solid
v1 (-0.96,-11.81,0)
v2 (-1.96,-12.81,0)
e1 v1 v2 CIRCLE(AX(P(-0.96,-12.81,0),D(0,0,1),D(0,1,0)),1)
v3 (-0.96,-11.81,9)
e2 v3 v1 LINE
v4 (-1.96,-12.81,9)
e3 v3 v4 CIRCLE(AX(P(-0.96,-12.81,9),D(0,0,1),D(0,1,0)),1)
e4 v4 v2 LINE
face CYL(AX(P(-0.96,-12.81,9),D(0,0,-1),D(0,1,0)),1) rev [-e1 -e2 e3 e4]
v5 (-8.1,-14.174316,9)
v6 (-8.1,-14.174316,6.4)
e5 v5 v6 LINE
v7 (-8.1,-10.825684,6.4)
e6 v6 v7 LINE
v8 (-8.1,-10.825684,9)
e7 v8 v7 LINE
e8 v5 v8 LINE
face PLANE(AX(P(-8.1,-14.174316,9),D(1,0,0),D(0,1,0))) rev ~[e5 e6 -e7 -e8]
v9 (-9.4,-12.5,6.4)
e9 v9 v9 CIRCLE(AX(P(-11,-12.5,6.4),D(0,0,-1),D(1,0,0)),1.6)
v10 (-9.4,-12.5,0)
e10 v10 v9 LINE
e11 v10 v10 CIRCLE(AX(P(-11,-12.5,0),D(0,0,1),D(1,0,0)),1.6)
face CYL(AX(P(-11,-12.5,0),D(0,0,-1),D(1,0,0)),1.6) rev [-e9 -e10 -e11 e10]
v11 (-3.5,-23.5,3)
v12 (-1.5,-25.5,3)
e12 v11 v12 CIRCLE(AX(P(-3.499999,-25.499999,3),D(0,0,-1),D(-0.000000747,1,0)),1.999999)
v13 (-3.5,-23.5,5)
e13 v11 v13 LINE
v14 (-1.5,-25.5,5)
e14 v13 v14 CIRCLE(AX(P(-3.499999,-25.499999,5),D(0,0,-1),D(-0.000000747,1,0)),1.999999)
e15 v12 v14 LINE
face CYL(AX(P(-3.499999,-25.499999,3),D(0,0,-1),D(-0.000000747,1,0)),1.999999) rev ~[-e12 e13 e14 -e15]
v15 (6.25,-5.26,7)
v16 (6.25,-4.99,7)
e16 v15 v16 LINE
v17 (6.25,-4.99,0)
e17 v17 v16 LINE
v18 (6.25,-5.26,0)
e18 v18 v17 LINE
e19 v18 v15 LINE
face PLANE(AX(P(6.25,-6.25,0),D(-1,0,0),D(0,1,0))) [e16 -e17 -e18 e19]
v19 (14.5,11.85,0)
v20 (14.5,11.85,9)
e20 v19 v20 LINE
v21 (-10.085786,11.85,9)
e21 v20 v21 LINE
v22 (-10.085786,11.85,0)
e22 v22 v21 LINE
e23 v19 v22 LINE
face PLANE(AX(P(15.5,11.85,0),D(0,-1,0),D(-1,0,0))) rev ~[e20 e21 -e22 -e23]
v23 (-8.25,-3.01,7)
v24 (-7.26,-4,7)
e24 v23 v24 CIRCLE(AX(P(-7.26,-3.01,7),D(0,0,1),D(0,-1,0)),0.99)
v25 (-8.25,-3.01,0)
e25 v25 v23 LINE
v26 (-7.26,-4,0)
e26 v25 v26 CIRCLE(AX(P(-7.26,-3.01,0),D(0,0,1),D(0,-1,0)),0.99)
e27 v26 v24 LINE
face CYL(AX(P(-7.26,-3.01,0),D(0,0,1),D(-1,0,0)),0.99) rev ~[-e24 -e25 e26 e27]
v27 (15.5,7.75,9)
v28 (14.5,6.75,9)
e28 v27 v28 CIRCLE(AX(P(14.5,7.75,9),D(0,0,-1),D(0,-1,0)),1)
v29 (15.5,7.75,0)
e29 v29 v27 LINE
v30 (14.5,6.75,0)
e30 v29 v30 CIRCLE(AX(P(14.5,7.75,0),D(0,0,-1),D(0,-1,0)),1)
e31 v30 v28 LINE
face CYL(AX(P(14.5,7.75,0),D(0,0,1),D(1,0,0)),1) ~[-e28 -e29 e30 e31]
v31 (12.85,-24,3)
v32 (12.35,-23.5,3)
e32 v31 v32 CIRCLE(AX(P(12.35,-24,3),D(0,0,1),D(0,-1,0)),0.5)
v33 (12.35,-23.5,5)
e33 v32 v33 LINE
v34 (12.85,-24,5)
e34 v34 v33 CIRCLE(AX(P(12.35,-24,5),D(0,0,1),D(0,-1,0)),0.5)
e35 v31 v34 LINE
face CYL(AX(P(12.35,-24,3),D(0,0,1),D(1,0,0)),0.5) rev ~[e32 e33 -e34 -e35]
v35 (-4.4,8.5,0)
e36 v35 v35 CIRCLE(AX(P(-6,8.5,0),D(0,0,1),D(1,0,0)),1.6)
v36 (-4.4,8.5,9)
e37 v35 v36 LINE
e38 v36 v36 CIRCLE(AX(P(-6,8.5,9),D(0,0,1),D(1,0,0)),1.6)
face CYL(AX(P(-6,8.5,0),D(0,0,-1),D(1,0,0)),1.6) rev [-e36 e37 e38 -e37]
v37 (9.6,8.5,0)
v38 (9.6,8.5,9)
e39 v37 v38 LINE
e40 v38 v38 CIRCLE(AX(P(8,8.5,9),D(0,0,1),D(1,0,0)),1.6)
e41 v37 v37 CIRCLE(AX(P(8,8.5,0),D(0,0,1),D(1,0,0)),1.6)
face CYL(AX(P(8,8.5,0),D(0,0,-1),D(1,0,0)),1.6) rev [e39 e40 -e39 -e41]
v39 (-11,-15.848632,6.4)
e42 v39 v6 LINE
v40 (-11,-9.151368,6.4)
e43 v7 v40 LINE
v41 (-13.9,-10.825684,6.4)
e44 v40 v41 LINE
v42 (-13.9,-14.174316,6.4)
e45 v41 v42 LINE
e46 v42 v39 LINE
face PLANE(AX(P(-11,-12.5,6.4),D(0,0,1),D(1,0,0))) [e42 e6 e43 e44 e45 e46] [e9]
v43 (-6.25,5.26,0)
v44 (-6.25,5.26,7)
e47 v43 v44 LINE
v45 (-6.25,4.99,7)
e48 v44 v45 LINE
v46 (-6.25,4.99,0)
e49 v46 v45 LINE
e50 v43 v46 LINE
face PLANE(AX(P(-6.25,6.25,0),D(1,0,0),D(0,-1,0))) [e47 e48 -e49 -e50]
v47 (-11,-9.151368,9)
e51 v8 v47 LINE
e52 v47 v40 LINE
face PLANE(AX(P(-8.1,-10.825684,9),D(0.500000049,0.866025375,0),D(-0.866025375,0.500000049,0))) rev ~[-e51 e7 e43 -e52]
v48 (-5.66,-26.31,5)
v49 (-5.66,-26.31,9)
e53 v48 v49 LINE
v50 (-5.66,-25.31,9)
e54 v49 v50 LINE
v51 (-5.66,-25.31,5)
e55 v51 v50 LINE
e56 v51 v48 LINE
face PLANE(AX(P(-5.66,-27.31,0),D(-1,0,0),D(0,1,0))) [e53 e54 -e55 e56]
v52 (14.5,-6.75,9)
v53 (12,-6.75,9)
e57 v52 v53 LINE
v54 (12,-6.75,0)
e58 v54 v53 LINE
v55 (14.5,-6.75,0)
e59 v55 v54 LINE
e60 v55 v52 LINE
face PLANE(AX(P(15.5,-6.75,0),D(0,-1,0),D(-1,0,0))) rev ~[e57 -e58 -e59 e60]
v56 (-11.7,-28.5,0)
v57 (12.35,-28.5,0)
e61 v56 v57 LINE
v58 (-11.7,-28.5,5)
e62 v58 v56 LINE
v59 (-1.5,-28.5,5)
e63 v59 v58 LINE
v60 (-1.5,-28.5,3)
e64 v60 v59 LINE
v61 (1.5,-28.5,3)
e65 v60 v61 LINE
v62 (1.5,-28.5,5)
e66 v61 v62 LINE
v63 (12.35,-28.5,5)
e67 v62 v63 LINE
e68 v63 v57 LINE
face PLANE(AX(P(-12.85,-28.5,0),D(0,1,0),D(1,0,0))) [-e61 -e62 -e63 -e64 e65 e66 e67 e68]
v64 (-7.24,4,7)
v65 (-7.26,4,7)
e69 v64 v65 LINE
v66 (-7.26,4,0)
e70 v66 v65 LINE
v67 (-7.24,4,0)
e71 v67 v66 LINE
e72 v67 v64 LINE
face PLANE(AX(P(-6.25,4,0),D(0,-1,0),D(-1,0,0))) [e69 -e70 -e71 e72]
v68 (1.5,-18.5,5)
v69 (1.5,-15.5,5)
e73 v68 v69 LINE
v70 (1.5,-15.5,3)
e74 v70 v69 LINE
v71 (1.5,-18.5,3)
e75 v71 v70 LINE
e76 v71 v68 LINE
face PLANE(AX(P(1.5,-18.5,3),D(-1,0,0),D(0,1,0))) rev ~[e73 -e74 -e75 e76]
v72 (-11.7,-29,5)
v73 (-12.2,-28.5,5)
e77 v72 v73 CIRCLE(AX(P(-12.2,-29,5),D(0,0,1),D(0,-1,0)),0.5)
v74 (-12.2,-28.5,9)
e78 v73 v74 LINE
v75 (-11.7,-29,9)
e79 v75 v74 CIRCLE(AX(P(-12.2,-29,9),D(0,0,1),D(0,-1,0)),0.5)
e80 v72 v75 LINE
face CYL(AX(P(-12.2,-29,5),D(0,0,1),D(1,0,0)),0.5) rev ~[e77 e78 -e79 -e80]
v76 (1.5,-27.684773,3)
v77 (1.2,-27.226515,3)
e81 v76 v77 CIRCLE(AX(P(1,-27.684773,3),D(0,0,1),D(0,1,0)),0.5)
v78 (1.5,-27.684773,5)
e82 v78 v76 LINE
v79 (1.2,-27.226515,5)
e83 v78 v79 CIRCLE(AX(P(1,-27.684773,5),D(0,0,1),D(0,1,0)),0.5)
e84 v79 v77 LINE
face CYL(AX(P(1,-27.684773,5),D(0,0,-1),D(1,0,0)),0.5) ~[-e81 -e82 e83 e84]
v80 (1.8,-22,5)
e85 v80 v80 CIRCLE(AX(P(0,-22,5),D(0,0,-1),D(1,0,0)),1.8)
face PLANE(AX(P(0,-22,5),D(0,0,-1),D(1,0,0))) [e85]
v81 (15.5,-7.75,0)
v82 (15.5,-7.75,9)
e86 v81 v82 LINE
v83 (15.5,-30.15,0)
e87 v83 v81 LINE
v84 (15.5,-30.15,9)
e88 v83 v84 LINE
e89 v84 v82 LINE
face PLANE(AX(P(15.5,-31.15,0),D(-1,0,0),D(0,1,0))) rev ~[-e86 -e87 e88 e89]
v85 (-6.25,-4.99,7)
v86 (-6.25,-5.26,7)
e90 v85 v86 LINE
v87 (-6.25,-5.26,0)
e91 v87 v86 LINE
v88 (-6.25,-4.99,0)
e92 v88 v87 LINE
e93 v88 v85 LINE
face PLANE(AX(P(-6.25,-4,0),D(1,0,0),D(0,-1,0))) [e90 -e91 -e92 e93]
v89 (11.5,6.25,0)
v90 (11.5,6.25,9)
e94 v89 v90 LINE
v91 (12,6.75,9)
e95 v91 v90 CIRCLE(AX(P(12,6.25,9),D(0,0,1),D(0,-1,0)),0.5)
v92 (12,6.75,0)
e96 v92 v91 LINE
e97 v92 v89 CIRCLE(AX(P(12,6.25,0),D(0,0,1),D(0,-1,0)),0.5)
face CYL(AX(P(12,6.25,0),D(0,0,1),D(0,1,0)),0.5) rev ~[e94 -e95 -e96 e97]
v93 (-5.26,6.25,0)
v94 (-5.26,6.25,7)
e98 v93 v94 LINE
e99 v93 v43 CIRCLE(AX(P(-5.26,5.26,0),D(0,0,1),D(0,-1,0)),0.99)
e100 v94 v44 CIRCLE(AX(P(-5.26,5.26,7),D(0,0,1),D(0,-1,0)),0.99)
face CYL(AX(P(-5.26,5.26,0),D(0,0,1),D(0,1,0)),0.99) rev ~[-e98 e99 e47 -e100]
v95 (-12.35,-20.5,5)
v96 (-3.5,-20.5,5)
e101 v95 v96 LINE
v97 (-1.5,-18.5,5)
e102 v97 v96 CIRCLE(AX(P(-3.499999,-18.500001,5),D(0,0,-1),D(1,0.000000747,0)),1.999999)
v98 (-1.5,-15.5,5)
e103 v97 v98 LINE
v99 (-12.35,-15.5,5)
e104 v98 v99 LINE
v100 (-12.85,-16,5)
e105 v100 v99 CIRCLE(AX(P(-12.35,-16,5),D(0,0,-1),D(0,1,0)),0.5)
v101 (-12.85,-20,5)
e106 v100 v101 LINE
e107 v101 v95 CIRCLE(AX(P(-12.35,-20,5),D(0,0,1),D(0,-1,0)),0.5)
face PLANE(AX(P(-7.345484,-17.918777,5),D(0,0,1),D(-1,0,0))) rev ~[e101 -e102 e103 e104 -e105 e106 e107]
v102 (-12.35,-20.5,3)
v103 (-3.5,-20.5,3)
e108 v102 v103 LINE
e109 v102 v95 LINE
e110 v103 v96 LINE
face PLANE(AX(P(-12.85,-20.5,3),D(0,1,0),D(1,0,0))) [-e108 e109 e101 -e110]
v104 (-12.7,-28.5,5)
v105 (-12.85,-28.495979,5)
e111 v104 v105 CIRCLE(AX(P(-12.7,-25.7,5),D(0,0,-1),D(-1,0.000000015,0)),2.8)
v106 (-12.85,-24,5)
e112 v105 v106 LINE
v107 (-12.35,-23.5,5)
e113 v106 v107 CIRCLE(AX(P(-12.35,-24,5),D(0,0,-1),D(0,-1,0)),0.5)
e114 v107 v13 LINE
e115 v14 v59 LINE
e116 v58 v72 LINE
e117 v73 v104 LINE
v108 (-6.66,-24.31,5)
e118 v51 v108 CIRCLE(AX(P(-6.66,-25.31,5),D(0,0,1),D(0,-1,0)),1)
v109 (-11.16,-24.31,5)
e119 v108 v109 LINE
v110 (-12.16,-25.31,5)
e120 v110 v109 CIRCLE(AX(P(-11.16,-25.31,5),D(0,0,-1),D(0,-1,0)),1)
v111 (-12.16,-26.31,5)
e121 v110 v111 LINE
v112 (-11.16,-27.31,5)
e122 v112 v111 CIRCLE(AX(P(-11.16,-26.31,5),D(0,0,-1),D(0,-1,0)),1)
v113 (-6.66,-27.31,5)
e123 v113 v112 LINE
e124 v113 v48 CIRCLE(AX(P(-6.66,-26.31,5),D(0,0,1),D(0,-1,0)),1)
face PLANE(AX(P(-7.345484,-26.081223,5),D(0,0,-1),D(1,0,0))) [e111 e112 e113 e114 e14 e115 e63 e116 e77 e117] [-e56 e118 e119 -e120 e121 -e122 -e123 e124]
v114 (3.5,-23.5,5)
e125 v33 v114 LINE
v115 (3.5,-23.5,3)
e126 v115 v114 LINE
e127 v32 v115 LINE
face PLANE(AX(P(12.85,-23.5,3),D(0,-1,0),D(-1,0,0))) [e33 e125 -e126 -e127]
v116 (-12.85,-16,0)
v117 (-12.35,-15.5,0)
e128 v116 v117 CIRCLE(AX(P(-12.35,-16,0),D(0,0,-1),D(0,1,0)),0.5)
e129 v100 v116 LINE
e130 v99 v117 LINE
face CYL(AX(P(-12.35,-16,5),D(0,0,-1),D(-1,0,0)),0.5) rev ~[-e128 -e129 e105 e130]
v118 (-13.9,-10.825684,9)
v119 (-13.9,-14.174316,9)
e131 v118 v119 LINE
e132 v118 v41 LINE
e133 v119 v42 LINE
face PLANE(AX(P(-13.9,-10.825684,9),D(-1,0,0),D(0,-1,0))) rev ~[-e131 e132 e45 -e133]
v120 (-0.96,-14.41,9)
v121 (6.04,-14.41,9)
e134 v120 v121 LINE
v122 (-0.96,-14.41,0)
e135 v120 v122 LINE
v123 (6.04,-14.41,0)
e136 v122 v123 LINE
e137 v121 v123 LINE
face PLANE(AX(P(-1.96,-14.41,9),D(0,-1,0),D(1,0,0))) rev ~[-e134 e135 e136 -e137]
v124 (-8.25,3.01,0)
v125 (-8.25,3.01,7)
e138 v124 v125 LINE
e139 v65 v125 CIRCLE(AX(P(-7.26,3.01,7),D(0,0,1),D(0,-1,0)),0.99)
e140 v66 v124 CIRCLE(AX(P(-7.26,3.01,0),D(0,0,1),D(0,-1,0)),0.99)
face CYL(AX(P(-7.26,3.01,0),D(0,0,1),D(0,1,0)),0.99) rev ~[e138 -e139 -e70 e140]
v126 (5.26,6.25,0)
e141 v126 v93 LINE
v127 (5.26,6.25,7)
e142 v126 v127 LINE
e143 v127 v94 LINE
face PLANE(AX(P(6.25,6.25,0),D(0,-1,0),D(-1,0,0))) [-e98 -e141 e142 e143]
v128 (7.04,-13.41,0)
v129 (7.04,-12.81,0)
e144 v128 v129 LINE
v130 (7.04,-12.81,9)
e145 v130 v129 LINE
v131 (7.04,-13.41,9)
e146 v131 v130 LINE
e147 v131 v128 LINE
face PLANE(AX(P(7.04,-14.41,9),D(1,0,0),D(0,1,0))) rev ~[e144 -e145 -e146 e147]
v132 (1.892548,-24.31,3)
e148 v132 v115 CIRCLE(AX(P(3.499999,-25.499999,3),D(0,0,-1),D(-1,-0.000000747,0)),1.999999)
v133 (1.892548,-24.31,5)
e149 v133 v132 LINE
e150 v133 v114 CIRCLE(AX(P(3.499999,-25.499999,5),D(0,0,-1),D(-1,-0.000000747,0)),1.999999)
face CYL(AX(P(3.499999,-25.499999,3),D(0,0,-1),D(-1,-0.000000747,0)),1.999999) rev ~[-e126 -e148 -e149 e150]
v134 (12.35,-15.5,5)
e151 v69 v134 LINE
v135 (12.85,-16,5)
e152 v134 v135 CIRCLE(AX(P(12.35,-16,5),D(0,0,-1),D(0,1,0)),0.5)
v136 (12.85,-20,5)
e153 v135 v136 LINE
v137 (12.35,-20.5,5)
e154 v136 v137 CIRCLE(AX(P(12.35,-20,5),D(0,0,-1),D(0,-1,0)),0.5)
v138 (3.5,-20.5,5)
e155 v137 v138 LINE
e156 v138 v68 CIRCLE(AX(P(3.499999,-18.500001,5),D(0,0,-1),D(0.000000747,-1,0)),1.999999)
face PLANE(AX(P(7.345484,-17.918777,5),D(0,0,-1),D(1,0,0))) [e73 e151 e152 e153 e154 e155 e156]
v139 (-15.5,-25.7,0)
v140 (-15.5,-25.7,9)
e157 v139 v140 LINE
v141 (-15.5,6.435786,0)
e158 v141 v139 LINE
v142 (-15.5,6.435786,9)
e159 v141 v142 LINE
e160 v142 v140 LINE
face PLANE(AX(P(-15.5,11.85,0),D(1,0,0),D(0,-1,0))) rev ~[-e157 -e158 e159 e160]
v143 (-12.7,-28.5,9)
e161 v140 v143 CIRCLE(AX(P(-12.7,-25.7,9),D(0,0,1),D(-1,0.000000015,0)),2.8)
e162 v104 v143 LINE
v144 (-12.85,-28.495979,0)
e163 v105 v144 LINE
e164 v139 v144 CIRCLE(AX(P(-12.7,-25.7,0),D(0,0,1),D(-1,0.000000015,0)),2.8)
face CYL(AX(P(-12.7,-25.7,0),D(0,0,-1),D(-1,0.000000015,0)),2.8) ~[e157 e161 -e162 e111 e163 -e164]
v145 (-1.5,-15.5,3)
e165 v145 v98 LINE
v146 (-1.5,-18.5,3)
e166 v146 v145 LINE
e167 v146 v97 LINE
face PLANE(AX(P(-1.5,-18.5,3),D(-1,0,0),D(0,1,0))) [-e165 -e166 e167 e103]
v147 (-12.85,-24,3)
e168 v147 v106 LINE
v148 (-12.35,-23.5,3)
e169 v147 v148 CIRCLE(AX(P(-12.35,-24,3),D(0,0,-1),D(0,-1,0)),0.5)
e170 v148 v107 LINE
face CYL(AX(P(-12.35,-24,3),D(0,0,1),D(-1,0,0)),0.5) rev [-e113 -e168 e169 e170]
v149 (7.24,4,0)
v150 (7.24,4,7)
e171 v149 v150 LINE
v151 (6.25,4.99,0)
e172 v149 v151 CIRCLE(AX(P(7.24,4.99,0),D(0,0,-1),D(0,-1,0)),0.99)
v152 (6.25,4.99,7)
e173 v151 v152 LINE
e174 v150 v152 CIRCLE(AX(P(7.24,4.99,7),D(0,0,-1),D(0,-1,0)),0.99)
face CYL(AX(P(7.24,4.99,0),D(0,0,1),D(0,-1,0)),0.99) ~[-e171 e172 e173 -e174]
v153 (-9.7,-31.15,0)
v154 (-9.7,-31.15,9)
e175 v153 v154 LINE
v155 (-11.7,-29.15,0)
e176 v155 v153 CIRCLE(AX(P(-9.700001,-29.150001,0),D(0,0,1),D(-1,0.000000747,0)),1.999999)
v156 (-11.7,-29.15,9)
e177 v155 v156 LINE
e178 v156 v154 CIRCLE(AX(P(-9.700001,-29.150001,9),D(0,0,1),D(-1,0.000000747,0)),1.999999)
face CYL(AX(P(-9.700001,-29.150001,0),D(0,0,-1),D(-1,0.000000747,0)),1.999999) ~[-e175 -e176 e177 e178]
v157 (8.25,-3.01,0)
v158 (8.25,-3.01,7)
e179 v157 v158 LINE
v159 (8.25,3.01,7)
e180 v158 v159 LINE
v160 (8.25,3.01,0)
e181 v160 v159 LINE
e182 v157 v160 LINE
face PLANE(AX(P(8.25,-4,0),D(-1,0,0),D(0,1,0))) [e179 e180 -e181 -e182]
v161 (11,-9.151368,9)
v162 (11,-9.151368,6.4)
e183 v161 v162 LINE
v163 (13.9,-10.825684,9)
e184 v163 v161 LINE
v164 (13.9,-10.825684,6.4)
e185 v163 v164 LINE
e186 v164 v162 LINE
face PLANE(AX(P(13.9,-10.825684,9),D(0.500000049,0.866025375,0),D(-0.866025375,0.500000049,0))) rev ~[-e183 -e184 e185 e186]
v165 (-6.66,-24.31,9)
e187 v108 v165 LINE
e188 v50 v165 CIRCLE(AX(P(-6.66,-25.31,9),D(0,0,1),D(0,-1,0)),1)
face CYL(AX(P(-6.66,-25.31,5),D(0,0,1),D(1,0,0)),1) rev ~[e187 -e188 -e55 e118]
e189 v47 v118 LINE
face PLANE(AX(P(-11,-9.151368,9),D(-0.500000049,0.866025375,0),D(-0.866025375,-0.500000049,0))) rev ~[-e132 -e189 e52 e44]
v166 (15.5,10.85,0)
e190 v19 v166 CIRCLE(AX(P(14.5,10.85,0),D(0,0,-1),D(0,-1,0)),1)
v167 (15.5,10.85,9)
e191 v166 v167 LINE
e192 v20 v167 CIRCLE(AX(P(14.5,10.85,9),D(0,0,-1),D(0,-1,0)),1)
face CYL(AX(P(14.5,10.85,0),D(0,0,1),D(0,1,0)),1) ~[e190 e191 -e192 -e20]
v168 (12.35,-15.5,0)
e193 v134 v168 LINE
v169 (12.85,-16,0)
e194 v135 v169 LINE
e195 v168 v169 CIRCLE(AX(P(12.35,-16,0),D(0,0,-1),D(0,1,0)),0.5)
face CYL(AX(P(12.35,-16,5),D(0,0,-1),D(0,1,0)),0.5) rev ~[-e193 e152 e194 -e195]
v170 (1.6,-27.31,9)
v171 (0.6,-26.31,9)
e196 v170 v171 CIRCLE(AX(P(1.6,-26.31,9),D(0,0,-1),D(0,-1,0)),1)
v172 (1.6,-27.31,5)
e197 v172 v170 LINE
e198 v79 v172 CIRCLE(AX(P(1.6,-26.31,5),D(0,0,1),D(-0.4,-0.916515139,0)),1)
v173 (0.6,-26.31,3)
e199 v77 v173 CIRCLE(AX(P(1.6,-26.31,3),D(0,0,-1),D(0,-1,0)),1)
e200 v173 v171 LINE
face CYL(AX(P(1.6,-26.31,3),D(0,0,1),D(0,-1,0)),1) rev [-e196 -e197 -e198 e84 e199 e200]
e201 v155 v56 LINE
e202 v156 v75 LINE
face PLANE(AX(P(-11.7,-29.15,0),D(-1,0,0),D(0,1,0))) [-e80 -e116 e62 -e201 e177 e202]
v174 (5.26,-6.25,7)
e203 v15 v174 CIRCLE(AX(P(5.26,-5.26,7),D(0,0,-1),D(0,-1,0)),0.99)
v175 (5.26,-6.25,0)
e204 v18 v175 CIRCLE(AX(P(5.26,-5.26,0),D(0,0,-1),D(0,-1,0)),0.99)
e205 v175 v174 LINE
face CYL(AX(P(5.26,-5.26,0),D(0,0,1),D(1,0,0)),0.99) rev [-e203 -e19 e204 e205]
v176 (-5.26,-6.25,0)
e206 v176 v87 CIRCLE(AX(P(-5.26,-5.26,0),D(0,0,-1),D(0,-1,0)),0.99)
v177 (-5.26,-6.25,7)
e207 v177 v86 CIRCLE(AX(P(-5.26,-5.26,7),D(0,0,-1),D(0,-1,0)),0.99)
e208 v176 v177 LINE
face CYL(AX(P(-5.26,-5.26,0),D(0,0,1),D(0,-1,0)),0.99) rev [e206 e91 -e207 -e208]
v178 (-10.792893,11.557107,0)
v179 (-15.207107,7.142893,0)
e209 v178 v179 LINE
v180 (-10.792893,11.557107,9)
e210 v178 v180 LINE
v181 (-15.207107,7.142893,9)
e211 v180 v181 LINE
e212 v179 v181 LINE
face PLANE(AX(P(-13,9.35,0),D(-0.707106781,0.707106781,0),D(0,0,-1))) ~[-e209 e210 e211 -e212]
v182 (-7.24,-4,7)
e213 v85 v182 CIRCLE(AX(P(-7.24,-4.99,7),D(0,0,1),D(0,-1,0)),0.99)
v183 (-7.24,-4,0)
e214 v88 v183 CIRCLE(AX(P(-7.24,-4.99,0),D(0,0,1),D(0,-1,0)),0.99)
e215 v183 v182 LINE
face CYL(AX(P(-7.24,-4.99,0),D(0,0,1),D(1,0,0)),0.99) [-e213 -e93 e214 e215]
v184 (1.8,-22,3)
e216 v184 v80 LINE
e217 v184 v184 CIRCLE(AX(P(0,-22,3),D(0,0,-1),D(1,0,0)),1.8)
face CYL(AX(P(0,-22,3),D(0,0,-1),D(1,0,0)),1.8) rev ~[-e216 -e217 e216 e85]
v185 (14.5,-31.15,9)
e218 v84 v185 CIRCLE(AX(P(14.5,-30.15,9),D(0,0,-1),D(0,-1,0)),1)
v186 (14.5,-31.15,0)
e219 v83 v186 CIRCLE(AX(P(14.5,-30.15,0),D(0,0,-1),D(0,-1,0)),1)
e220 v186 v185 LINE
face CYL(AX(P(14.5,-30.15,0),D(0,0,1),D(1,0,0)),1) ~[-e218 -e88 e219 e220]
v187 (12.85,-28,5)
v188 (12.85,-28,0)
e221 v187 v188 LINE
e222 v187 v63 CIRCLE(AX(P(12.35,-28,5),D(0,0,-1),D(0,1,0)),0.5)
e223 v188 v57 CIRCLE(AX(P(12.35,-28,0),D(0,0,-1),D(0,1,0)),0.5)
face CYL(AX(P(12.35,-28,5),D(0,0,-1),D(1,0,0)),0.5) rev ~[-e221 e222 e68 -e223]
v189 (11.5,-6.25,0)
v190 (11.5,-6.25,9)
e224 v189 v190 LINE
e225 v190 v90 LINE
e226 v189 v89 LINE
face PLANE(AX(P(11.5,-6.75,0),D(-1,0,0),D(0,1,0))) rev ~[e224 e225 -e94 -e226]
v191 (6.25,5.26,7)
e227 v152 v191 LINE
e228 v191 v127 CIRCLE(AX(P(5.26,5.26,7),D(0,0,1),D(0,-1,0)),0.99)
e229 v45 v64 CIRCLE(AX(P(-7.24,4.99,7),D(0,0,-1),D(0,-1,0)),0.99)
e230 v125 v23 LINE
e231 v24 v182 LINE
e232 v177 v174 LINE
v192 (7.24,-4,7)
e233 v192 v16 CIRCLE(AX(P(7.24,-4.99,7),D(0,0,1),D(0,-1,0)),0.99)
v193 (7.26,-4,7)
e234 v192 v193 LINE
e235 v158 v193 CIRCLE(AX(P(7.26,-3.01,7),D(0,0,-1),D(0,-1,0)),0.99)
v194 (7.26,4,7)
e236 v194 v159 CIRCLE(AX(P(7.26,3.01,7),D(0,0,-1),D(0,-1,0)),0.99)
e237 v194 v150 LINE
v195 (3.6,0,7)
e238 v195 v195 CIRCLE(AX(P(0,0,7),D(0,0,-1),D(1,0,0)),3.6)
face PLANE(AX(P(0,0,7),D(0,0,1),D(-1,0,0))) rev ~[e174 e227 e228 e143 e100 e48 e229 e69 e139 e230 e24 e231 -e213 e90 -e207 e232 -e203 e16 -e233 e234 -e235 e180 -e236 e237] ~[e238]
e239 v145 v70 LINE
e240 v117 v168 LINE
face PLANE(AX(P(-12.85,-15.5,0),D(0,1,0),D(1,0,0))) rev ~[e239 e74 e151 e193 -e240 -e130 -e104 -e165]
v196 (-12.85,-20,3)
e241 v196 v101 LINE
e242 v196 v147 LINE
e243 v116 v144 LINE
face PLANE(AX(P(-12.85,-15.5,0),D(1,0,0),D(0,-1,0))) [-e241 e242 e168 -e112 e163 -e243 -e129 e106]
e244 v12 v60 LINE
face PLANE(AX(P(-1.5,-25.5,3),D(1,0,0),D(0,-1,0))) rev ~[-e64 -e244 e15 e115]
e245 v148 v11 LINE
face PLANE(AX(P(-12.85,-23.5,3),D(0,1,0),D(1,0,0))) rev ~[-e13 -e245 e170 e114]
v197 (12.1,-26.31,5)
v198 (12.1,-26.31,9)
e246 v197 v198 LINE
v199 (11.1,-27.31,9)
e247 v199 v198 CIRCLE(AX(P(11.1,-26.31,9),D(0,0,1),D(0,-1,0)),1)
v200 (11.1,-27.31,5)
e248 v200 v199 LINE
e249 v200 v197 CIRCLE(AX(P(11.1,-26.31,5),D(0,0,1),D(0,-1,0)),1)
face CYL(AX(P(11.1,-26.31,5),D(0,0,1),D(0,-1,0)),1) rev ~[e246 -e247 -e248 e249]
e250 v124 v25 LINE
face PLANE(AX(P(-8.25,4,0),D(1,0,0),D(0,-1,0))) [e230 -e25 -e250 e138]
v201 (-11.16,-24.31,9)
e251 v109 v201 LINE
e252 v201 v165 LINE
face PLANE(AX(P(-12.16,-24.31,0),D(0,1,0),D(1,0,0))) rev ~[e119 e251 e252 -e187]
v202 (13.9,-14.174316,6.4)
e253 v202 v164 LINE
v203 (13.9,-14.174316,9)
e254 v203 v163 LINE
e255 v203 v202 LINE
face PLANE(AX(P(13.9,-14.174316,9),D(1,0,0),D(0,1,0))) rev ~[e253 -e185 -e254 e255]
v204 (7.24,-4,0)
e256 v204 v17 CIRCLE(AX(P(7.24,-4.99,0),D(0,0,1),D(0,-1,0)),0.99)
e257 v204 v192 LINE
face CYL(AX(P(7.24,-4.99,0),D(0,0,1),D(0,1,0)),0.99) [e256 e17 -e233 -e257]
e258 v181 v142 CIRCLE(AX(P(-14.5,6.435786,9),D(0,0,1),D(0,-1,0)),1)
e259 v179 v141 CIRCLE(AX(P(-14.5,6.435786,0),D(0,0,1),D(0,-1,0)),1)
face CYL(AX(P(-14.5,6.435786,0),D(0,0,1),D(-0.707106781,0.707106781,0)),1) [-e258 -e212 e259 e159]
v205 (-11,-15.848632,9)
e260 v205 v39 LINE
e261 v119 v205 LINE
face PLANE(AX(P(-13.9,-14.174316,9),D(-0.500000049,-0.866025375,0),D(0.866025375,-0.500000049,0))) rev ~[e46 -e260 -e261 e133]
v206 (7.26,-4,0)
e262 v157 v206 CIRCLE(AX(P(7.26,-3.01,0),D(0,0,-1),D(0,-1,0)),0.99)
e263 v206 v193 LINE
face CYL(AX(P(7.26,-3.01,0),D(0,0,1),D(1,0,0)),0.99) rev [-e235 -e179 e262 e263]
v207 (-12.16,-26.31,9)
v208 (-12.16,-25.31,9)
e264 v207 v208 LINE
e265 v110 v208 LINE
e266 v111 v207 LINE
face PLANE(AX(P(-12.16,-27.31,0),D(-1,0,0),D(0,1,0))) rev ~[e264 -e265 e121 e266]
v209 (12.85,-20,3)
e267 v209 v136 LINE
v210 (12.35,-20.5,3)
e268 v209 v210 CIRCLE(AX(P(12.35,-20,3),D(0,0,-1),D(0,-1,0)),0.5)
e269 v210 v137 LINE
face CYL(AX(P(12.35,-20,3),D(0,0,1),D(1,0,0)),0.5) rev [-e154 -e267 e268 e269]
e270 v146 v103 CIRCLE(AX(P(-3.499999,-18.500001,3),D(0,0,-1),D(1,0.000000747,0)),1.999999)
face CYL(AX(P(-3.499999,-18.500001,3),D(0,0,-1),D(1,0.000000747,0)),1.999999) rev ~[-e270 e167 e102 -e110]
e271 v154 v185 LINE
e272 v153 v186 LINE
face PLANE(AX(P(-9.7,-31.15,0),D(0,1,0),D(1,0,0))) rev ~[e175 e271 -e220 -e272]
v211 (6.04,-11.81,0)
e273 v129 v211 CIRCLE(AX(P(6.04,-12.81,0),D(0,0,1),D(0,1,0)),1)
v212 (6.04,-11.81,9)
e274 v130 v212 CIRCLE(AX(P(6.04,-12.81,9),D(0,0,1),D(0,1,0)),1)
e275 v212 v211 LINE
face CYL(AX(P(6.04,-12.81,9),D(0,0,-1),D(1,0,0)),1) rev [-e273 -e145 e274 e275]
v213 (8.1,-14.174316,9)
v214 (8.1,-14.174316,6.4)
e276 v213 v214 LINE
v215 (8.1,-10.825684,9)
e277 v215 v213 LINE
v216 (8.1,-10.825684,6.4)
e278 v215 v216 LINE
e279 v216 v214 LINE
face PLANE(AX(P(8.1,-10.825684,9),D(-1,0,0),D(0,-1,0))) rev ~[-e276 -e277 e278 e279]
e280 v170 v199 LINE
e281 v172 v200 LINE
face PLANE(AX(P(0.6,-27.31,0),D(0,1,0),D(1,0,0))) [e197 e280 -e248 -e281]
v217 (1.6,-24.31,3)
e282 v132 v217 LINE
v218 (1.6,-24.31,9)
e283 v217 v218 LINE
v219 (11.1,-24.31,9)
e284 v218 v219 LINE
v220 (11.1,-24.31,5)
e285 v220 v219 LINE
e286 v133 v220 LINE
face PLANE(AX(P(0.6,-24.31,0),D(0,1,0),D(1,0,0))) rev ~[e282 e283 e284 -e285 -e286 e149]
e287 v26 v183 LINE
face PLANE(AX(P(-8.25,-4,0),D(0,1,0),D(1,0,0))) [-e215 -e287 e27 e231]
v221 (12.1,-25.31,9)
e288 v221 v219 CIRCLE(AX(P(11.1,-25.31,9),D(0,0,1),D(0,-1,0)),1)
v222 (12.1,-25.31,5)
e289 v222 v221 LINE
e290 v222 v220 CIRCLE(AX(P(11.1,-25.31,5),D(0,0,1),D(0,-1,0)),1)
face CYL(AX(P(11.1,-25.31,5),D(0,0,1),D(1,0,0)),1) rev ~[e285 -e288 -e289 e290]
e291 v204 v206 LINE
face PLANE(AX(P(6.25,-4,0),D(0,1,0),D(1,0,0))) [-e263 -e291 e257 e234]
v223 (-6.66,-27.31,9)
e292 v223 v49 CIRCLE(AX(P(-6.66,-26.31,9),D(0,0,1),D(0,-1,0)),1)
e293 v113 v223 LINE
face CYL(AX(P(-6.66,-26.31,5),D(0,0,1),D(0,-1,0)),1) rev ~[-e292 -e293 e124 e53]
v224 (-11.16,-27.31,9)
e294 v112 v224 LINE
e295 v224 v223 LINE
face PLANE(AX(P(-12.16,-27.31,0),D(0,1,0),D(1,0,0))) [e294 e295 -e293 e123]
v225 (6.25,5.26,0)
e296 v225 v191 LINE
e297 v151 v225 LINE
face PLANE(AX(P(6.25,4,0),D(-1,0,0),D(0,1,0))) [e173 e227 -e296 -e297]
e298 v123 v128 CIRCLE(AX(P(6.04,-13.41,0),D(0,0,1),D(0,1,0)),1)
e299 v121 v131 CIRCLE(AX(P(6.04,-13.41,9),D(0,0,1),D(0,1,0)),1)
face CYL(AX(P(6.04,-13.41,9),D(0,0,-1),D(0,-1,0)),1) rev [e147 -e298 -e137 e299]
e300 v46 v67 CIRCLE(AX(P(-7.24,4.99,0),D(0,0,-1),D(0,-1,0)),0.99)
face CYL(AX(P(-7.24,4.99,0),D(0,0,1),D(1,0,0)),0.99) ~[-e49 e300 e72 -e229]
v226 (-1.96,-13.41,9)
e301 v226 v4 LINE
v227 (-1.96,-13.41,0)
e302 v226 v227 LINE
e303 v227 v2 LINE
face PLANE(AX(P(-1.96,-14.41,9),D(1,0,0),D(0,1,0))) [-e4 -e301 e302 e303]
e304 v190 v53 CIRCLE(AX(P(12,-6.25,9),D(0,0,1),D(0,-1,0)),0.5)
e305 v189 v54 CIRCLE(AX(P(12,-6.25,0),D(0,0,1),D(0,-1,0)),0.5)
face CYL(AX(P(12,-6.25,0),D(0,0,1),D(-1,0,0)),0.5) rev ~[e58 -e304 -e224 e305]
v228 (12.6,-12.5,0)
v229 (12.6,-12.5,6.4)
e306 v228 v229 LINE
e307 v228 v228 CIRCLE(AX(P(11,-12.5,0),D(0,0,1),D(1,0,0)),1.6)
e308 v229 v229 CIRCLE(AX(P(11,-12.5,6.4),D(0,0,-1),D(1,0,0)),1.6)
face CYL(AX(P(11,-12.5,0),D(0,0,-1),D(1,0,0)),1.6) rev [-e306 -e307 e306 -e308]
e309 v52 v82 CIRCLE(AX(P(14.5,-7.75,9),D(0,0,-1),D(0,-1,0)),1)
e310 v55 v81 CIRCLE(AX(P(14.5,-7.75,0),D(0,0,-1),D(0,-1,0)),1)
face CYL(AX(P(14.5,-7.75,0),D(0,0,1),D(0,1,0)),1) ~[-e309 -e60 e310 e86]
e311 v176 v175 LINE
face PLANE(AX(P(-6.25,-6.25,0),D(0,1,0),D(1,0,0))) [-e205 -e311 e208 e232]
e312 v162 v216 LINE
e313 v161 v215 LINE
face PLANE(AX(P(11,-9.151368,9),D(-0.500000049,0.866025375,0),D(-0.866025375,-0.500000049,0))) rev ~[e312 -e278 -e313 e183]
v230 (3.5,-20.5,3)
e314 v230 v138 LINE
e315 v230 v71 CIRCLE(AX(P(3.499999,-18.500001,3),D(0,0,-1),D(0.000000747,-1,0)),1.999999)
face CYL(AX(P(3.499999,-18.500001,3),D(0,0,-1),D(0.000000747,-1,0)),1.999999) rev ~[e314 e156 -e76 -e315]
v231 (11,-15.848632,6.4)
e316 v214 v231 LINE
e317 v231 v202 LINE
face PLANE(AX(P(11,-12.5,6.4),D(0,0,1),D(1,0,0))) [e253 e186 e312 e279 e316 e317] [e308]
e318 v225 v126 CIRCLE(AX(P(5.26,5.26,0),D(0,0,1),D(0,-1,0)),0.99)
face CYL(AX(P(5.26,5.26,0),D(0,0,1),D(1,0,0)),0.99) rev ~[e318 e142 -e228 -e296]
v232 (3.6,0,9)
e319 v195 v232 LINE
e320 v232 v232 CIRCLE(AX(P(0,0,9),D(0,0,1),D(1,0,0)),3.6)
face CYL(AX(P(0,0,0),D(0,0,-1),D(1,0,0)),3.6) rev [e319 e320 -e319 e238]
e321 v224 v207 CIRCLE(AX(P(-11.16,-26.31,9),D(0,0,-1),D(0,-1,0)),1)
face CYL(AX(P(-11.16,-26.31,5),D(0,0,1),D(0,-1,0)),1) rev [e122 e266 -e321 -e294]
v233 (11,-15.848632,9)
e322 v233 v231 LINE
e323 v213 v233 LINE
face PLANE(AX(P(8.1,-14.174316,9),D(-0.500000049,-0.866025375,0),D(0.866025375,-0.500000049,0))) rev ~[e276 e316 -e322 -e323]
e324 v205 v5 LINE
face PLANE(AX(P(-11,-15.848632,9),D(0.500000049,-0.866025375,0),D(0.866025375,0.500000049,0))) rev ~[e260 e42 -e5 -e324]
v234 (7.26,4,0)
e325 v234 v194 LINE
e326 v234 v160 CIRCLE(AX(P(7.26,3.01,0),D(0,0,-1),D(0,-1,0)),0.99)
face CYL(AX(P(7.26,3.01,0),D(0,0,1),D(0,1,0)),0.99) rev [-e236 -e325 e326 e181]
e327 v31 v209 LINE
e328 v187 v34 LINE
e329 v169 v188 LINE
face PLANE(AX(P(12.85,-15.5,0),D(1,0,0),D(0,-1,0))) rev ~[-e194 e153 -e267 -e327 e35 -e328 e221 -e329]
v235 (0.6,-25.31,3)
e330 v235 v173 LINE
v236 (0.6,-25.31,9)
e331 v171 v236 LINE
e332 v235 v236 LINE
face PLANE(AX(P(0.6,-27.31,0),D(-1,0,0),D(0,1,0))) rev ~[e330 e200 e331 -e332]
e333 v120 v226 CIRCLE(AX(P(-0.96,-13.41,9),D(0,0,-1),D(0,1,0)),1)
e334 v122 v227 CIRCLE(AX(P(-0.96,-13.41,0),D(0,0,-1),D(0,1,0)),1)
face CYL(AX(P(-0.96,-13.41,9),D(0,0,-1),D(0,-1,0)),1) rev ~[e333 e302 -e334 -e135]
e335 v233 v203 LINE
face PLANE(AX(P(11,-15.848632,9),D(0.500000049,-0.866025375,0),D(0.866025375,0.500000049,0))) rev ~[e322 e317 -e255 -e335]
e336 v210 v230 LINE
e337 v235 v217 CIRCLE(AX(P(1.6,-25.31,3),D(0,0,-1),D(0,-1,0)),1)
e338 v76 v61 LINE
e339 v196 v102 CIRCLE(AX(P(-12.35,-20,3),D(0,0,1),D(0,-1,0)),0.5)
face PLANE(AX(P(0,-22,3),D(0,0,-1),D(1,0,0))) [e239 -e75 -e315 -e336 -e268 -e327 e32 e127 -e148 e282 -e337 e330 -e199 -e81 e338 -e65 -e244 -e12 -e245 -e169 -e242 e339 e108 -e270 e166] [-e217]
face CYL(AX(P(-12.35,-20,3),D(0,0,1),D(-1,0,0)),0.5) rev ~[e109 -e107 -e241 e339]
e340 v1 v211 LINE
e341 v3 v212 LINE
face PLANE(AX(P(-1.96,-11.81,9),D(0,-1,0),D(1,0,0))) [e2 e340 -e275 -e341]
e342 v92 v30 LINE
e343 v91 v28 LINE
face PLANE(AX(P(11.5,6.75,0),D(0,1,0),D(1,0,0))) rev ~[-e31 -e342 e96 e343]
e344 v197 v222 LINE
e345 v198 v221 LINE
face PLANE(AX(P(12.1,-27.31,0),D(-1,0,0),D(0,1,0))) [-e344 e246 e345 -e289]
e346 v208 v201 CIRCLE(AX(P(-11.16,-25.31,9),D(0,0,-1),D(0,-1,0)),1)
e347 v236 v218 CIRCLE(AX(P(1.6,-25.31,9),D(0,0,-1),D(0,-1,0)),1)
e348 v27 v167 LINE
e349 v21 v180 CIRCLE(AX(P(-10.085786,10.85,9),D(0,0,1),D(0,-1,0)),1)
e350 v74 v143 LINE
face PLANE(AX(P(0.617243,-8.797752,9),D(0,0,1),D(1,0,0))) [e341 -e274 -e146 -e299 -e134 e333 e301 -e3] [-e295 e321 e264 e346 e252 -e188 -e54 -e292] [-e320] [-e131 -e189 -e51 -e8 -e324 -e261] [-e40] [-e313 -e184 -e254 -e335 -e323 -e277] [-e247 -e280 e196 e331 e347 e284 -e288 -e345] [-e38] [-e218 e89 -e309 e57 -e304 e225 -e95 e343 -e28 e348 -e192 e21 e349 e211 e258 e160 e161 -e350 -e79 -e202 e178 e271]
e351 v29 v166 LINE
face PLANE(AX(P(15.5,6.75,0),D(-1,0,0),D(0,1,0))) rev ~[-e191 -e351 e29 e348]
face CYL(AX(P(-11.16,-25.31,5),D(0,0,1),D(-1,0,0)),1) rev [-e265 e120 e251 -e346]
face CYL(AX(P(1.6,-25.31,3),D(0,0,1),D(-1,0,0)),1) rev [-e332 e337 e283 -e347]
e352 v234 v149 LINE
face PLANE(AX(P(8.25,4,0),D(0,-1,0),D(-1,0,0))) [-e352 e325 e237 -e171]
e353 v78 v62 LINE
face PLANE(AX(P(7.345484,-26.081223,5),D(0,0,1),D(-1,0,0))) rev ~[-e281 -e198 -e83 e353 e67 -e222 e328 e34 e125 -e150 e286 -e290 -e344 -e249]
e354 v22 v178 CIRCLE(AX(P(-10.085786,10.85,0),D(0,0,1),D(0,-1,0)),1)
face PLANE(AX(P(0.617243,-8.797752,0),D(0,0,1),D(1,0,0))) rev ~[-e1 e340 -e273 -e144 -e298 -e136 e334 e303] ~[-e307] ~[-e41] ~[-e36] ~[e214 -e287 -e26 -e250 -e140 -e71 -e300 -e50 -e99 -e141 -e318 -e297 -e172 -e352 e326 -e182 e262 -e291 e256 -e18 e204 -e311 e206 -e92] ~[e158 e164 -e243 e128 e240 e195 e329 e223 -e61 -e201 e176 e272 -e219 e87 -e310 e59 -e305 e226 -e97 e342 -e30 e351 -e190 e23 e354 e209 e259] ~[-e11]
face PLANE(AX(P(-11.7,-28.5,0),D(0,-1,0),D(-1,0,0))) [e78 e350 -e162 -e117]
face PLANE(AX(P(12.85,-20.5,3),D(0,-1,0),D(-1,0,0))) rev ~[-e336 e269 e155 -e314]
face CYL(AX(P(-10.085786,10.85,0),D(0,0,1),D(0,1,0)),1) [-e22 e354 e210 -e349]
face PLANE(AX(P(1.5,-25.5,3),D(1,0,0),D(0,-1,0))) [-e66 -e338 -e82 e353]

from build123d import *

# Parameters (mm, degrees)
SKETCH_R        = 3.6
SKETCH_R_2      = 1.6
SKETCH_W        = 6.5
SKETCH_H        = 3
SKETCH_W_2      = 11.5
PAD_DEPTH       = 9
POCKET_DEPTH    = 2.6
POCKET001_DEPTH = 7
SKETCH003_W     = 25.7
SKETCH003_H     = 13
POCKET002_DEPTH = 3
SKETCH004_R     = 1.8
POCKET003_DEPTH = 2
SKETCH005_W     = 9
SKETCH005_H     = 2.6
POCKET004_DEPTH = 9.001
CHAMFER_SIZE    = 5
FILLET_R        = 1
FILLET001_R     = 0.99
FILLET002_R     = 0.5


with BuildPart() as part:
    # Sketch → Pad (new body)
    with BuildSketch(Plane.XY):
        with BuildLine():
            Line((15.5, -31.15), (15.5, -6.75))
            Line((15.5, -6.75), (11.5, -6.75))
            Line((11.5, -6.75), (11.5, 6.75))
            Line((11.5, 6.75), (15.5, 6.75))
            Line((15.5, 6.75), (15.5, 11.85))
            Line((15.5, 11.85), (-15.5, 11.85))
            Line((-15.5, 11.85), (-15.5, -25.7))
            ThreePointArc((-15.5, -25.7), (-14.679899, -27.679899), (-12.7, -28.5))
            Line((-11.7, -28.5), (-12.7, -28.5))
            Line((-11.7, -29.15), (-11.7, -28.5))
            ThreePointArc((-11.7, -29.15), (-11.114214, -30.564214), (-9.7, -31.15))
            Line((-9.7, -31.15), (15.5, -31.15))
        make_face()
        Circle(SKETCH_R, mode=Mode.SUBTRACT)
        with Locations((-11, -12.5)):
            Circle(SKETCH_R_2, mode=Mode.SUBTRACT)
        with Locations((11, -12.5)):
            Circle(SKETCH_R_2, mode=Mode.SUBTRACT)
        with Locations((-6, 8.5)):
            Circle(SKETCH_R_2, mode=Mode.SUBTRACT)
        with Locations((8, 8.5)):
            Circle(SKETCH_R_2, mode=Mode.SUBTRACT)
        with Locations((-8.91, -25.81)):
            Rectangle(SKETCH_W, SKETCH_H, mode=Mode.SUBTRACT)
        with Locations((6.35, -25.81)):
            Rectangle(SKETCH_W_2, SKETCH_H, mode=Mode.SUBTRACT)
    extrude(amount=PAD_DEPTH)

    # Sketch001 (on Face28 of Pad) → Pocket (cut)
    with BuildSketch(Plane.XY.offset(9)):
        Polygon((-8.1, -14.174316), (-8.1, -10.825684), (-11, -9.151368), (-13.9, -10.825684), (-13.9, -14.174316), (-11, -15.848632), align=None)
        Polygon((13.9, -14.174316), (13.9, -10.825684), (11, -9.151368), (8.1, -10.825684), (8.1, -14.174316), (11, -15.848632), align=None)
    extrude(amount=-POCKET_DEPTH, mode=Mode.SUBTRACT)

    # Sketch002 → Pocket001 (cut)
    with BuildSketch(Plane(origin=(0, 0, 0), x_dir=(1, 0, 0), z_dir=(0, 0, -1))):
        Polygon((8.25, -4), (6.25, -4), (6.25, -6.25), (-6.25, -6.25), (-6.25, -4), (-8.25, -4), (-8.25, 4), (-6.25, 4), (-6.25, 6.25), (6.25, 6.25), (6.25, 4), (8.25, 4), align=None)
    extrude(amount=-POCKET001_DEPTH, mode=Mode.SUBTRACT)

    # Sketch003 → Pocket002 (cut)
    with BuildSketch(Plane(origin=(0, 0, 0), x_dir=(1, 0, 0), z_dir=(0, 0, -1))):
        with Locations((0, 22)):
            Rectangle(SKETCH003_W, SKETCH003_H)
    extrude(amount=-POCKET002_DEPTH, mode=Mode.SUBTRACT)

    # Sketch004 (on Face56 of Pocket002) → Pocket003 (cut)
    with BuildSketch(Plane(origin=(0, 0, 3), x_dir=(1, 0, 0), z_dir=(0, 0, -1))):
        with Locations((0, 22)):
            Circle(SKETCH004_R)
        with BuildLine():
            Line((1.5, 15.5), (12.85, 15.5))
            Line((12.85, 15.5), (12.85, 20.5))
            Line((12.85, 20.5), (3.5, 20.5))
            ThreePointArc((3.5, 20.5), (2.085786, 19.914214), (1.5, 18.5))
            Line((1.5, 18.5), (1.5, 15.5))
        make_face()
        with BuildLine():
            Line((-1.5, 15.5), (-12.85, 15.5))
            Line((-12.85, 15.5), (-12.85, 20.5))
            Line((-12.85, 20.5), (-3.5, 20.5))
            ThreePointArc((-1.5, 18.5), (-2.085786, 19.914214), (-3.5, 20.5))
            Line((-1.5, 18.5), (-1.5, 15.5))
        make_face()
        with BuildLine():
            Line((12.85, 23.5), (3.5, 23.5))
            ThreePointArc((1.5, 25.5), (2.085786, 24.085786), (3.5, 23.5))
            Line((1.5, 25.5), (1.5, 28.5))
            Line((1.5, 28.5), (12.85, 28.5))
            Line((12.85, 28.5), (12.85, 23.5))
        make_face()
        with BuildLine():
            Line((-12.85, 23.5), (-3.5, 23.5))
            ThreePointArc((-3.5, 23.5), (-2.085786, 24.085786), (-1.5, 25.5))
            Line((-1.5, 25.5), (-1.5, 28.5))
            Line((-1.5, 28.5), (-12.85, 28.5))
            Line((-12.85, 28.5), (-12.85, 23.5))
        make_face()
    extrude(amount=-POCKET003_DEPTH, mode=Mode.SUBTRACT)

    # Sketch005 (on Face5 of Pocket003) → Pocket004 (cut, through all)
    with BuildSketch(Plane.XY.offset(9)):
        with Locations((2.54, -13.11)):
            Rectangle(SKETCH005_W, SKETCH005_H)
    extrude(amount=-POCKET004_DEPTH, mode=Mode.SUBTRACT)

    # Chamfer
    chamfer_edges = [part.edges().sort_by_distance(p)[0] for p in [
        (-15.5, 11.85, 4.5),
    ]]
    chamfer(chamfer_edges, length=CHAMFER_SIZE)

    # Fillet
    fillet_edges = [part.edges().sort_by_distance(p)[0] for p in [
        (-10.5, 11.85, 4.5),
        (-15.5, 6.85, 4.5),
        (15.5, 11.85, 4.5),
        (15.5, -6.75, 4.5),
        (15.5, 6.75, 4.5),
        (15.5, -31.15, 4.5),
        (-12.16, -24.31, 7),
        (-5.66, -24.31, 7),
        (-5.66, -27.31, 7),
        (12.1, -27.31, 7),
        (12.1, -24.31, 7),
        (0.6, -24.31, 6),
        (0.6, -27.31, 6),
        (-12.16, -27.31, 7),
        (-1.96, -11.81, 4.5),
        (7.04, -11.81, 4.5),
        (7.04, -14.41, 4.5),
        (-1.96, -14.41, 4.5),
    ]]
    fillet(fillet_edges, radius=FILLET_R)

    # Fillet001
    fillet001_edges = [part.edges().sort_by_distance(p)[0] for p in [
        (-6.25, -4, 3.5),
        (-8.25, -4, 3.5),
        (-6.25, -6.25, 3.5),
        (6.25, -6.25, 3.5),
        (6.25, -4, 3.5),
        (8.25, -4, 3.5),
        (-8.25, 4, 3.5),
        (-6.25, 4, 3.5),
        (-6.25, 6.25, 3.5),
        (8.25, 4, 3.5),
        (6.25, 4, 3.5),
        (6.25, 6.25, 3.5),
    ]]
    fillet(fillet001_edges, radius=FILLET001_R)

    # Fillet002
    fillet002_edges = [part.edges().sort_by_distance(p)[0] for p in [
        (11.5, 6.75, 4.5),
        (11.5, -6.75, 4.5),
        (-12.85, -15.5, 4),
        (-12.85, -15.5, 1.5),
        (-12.85, -20.5, 4),
        (-12.85, -23.5, 4),
        (12.85, -20.5, 4),
        (12.85, -15.5, 4),
        (12.85, -15.5, 1.5),
        (12.85, -28.5, 4),
        (12.85, -28.5, 1.5),
        (12.85, -23.5, 4),
        (1.5, -27.304987, 4),
        (-11.7, -28.5, 7),
    ]]
    fillet(fillet002_edges, radius=FILLET002_R)


solid = part.part
